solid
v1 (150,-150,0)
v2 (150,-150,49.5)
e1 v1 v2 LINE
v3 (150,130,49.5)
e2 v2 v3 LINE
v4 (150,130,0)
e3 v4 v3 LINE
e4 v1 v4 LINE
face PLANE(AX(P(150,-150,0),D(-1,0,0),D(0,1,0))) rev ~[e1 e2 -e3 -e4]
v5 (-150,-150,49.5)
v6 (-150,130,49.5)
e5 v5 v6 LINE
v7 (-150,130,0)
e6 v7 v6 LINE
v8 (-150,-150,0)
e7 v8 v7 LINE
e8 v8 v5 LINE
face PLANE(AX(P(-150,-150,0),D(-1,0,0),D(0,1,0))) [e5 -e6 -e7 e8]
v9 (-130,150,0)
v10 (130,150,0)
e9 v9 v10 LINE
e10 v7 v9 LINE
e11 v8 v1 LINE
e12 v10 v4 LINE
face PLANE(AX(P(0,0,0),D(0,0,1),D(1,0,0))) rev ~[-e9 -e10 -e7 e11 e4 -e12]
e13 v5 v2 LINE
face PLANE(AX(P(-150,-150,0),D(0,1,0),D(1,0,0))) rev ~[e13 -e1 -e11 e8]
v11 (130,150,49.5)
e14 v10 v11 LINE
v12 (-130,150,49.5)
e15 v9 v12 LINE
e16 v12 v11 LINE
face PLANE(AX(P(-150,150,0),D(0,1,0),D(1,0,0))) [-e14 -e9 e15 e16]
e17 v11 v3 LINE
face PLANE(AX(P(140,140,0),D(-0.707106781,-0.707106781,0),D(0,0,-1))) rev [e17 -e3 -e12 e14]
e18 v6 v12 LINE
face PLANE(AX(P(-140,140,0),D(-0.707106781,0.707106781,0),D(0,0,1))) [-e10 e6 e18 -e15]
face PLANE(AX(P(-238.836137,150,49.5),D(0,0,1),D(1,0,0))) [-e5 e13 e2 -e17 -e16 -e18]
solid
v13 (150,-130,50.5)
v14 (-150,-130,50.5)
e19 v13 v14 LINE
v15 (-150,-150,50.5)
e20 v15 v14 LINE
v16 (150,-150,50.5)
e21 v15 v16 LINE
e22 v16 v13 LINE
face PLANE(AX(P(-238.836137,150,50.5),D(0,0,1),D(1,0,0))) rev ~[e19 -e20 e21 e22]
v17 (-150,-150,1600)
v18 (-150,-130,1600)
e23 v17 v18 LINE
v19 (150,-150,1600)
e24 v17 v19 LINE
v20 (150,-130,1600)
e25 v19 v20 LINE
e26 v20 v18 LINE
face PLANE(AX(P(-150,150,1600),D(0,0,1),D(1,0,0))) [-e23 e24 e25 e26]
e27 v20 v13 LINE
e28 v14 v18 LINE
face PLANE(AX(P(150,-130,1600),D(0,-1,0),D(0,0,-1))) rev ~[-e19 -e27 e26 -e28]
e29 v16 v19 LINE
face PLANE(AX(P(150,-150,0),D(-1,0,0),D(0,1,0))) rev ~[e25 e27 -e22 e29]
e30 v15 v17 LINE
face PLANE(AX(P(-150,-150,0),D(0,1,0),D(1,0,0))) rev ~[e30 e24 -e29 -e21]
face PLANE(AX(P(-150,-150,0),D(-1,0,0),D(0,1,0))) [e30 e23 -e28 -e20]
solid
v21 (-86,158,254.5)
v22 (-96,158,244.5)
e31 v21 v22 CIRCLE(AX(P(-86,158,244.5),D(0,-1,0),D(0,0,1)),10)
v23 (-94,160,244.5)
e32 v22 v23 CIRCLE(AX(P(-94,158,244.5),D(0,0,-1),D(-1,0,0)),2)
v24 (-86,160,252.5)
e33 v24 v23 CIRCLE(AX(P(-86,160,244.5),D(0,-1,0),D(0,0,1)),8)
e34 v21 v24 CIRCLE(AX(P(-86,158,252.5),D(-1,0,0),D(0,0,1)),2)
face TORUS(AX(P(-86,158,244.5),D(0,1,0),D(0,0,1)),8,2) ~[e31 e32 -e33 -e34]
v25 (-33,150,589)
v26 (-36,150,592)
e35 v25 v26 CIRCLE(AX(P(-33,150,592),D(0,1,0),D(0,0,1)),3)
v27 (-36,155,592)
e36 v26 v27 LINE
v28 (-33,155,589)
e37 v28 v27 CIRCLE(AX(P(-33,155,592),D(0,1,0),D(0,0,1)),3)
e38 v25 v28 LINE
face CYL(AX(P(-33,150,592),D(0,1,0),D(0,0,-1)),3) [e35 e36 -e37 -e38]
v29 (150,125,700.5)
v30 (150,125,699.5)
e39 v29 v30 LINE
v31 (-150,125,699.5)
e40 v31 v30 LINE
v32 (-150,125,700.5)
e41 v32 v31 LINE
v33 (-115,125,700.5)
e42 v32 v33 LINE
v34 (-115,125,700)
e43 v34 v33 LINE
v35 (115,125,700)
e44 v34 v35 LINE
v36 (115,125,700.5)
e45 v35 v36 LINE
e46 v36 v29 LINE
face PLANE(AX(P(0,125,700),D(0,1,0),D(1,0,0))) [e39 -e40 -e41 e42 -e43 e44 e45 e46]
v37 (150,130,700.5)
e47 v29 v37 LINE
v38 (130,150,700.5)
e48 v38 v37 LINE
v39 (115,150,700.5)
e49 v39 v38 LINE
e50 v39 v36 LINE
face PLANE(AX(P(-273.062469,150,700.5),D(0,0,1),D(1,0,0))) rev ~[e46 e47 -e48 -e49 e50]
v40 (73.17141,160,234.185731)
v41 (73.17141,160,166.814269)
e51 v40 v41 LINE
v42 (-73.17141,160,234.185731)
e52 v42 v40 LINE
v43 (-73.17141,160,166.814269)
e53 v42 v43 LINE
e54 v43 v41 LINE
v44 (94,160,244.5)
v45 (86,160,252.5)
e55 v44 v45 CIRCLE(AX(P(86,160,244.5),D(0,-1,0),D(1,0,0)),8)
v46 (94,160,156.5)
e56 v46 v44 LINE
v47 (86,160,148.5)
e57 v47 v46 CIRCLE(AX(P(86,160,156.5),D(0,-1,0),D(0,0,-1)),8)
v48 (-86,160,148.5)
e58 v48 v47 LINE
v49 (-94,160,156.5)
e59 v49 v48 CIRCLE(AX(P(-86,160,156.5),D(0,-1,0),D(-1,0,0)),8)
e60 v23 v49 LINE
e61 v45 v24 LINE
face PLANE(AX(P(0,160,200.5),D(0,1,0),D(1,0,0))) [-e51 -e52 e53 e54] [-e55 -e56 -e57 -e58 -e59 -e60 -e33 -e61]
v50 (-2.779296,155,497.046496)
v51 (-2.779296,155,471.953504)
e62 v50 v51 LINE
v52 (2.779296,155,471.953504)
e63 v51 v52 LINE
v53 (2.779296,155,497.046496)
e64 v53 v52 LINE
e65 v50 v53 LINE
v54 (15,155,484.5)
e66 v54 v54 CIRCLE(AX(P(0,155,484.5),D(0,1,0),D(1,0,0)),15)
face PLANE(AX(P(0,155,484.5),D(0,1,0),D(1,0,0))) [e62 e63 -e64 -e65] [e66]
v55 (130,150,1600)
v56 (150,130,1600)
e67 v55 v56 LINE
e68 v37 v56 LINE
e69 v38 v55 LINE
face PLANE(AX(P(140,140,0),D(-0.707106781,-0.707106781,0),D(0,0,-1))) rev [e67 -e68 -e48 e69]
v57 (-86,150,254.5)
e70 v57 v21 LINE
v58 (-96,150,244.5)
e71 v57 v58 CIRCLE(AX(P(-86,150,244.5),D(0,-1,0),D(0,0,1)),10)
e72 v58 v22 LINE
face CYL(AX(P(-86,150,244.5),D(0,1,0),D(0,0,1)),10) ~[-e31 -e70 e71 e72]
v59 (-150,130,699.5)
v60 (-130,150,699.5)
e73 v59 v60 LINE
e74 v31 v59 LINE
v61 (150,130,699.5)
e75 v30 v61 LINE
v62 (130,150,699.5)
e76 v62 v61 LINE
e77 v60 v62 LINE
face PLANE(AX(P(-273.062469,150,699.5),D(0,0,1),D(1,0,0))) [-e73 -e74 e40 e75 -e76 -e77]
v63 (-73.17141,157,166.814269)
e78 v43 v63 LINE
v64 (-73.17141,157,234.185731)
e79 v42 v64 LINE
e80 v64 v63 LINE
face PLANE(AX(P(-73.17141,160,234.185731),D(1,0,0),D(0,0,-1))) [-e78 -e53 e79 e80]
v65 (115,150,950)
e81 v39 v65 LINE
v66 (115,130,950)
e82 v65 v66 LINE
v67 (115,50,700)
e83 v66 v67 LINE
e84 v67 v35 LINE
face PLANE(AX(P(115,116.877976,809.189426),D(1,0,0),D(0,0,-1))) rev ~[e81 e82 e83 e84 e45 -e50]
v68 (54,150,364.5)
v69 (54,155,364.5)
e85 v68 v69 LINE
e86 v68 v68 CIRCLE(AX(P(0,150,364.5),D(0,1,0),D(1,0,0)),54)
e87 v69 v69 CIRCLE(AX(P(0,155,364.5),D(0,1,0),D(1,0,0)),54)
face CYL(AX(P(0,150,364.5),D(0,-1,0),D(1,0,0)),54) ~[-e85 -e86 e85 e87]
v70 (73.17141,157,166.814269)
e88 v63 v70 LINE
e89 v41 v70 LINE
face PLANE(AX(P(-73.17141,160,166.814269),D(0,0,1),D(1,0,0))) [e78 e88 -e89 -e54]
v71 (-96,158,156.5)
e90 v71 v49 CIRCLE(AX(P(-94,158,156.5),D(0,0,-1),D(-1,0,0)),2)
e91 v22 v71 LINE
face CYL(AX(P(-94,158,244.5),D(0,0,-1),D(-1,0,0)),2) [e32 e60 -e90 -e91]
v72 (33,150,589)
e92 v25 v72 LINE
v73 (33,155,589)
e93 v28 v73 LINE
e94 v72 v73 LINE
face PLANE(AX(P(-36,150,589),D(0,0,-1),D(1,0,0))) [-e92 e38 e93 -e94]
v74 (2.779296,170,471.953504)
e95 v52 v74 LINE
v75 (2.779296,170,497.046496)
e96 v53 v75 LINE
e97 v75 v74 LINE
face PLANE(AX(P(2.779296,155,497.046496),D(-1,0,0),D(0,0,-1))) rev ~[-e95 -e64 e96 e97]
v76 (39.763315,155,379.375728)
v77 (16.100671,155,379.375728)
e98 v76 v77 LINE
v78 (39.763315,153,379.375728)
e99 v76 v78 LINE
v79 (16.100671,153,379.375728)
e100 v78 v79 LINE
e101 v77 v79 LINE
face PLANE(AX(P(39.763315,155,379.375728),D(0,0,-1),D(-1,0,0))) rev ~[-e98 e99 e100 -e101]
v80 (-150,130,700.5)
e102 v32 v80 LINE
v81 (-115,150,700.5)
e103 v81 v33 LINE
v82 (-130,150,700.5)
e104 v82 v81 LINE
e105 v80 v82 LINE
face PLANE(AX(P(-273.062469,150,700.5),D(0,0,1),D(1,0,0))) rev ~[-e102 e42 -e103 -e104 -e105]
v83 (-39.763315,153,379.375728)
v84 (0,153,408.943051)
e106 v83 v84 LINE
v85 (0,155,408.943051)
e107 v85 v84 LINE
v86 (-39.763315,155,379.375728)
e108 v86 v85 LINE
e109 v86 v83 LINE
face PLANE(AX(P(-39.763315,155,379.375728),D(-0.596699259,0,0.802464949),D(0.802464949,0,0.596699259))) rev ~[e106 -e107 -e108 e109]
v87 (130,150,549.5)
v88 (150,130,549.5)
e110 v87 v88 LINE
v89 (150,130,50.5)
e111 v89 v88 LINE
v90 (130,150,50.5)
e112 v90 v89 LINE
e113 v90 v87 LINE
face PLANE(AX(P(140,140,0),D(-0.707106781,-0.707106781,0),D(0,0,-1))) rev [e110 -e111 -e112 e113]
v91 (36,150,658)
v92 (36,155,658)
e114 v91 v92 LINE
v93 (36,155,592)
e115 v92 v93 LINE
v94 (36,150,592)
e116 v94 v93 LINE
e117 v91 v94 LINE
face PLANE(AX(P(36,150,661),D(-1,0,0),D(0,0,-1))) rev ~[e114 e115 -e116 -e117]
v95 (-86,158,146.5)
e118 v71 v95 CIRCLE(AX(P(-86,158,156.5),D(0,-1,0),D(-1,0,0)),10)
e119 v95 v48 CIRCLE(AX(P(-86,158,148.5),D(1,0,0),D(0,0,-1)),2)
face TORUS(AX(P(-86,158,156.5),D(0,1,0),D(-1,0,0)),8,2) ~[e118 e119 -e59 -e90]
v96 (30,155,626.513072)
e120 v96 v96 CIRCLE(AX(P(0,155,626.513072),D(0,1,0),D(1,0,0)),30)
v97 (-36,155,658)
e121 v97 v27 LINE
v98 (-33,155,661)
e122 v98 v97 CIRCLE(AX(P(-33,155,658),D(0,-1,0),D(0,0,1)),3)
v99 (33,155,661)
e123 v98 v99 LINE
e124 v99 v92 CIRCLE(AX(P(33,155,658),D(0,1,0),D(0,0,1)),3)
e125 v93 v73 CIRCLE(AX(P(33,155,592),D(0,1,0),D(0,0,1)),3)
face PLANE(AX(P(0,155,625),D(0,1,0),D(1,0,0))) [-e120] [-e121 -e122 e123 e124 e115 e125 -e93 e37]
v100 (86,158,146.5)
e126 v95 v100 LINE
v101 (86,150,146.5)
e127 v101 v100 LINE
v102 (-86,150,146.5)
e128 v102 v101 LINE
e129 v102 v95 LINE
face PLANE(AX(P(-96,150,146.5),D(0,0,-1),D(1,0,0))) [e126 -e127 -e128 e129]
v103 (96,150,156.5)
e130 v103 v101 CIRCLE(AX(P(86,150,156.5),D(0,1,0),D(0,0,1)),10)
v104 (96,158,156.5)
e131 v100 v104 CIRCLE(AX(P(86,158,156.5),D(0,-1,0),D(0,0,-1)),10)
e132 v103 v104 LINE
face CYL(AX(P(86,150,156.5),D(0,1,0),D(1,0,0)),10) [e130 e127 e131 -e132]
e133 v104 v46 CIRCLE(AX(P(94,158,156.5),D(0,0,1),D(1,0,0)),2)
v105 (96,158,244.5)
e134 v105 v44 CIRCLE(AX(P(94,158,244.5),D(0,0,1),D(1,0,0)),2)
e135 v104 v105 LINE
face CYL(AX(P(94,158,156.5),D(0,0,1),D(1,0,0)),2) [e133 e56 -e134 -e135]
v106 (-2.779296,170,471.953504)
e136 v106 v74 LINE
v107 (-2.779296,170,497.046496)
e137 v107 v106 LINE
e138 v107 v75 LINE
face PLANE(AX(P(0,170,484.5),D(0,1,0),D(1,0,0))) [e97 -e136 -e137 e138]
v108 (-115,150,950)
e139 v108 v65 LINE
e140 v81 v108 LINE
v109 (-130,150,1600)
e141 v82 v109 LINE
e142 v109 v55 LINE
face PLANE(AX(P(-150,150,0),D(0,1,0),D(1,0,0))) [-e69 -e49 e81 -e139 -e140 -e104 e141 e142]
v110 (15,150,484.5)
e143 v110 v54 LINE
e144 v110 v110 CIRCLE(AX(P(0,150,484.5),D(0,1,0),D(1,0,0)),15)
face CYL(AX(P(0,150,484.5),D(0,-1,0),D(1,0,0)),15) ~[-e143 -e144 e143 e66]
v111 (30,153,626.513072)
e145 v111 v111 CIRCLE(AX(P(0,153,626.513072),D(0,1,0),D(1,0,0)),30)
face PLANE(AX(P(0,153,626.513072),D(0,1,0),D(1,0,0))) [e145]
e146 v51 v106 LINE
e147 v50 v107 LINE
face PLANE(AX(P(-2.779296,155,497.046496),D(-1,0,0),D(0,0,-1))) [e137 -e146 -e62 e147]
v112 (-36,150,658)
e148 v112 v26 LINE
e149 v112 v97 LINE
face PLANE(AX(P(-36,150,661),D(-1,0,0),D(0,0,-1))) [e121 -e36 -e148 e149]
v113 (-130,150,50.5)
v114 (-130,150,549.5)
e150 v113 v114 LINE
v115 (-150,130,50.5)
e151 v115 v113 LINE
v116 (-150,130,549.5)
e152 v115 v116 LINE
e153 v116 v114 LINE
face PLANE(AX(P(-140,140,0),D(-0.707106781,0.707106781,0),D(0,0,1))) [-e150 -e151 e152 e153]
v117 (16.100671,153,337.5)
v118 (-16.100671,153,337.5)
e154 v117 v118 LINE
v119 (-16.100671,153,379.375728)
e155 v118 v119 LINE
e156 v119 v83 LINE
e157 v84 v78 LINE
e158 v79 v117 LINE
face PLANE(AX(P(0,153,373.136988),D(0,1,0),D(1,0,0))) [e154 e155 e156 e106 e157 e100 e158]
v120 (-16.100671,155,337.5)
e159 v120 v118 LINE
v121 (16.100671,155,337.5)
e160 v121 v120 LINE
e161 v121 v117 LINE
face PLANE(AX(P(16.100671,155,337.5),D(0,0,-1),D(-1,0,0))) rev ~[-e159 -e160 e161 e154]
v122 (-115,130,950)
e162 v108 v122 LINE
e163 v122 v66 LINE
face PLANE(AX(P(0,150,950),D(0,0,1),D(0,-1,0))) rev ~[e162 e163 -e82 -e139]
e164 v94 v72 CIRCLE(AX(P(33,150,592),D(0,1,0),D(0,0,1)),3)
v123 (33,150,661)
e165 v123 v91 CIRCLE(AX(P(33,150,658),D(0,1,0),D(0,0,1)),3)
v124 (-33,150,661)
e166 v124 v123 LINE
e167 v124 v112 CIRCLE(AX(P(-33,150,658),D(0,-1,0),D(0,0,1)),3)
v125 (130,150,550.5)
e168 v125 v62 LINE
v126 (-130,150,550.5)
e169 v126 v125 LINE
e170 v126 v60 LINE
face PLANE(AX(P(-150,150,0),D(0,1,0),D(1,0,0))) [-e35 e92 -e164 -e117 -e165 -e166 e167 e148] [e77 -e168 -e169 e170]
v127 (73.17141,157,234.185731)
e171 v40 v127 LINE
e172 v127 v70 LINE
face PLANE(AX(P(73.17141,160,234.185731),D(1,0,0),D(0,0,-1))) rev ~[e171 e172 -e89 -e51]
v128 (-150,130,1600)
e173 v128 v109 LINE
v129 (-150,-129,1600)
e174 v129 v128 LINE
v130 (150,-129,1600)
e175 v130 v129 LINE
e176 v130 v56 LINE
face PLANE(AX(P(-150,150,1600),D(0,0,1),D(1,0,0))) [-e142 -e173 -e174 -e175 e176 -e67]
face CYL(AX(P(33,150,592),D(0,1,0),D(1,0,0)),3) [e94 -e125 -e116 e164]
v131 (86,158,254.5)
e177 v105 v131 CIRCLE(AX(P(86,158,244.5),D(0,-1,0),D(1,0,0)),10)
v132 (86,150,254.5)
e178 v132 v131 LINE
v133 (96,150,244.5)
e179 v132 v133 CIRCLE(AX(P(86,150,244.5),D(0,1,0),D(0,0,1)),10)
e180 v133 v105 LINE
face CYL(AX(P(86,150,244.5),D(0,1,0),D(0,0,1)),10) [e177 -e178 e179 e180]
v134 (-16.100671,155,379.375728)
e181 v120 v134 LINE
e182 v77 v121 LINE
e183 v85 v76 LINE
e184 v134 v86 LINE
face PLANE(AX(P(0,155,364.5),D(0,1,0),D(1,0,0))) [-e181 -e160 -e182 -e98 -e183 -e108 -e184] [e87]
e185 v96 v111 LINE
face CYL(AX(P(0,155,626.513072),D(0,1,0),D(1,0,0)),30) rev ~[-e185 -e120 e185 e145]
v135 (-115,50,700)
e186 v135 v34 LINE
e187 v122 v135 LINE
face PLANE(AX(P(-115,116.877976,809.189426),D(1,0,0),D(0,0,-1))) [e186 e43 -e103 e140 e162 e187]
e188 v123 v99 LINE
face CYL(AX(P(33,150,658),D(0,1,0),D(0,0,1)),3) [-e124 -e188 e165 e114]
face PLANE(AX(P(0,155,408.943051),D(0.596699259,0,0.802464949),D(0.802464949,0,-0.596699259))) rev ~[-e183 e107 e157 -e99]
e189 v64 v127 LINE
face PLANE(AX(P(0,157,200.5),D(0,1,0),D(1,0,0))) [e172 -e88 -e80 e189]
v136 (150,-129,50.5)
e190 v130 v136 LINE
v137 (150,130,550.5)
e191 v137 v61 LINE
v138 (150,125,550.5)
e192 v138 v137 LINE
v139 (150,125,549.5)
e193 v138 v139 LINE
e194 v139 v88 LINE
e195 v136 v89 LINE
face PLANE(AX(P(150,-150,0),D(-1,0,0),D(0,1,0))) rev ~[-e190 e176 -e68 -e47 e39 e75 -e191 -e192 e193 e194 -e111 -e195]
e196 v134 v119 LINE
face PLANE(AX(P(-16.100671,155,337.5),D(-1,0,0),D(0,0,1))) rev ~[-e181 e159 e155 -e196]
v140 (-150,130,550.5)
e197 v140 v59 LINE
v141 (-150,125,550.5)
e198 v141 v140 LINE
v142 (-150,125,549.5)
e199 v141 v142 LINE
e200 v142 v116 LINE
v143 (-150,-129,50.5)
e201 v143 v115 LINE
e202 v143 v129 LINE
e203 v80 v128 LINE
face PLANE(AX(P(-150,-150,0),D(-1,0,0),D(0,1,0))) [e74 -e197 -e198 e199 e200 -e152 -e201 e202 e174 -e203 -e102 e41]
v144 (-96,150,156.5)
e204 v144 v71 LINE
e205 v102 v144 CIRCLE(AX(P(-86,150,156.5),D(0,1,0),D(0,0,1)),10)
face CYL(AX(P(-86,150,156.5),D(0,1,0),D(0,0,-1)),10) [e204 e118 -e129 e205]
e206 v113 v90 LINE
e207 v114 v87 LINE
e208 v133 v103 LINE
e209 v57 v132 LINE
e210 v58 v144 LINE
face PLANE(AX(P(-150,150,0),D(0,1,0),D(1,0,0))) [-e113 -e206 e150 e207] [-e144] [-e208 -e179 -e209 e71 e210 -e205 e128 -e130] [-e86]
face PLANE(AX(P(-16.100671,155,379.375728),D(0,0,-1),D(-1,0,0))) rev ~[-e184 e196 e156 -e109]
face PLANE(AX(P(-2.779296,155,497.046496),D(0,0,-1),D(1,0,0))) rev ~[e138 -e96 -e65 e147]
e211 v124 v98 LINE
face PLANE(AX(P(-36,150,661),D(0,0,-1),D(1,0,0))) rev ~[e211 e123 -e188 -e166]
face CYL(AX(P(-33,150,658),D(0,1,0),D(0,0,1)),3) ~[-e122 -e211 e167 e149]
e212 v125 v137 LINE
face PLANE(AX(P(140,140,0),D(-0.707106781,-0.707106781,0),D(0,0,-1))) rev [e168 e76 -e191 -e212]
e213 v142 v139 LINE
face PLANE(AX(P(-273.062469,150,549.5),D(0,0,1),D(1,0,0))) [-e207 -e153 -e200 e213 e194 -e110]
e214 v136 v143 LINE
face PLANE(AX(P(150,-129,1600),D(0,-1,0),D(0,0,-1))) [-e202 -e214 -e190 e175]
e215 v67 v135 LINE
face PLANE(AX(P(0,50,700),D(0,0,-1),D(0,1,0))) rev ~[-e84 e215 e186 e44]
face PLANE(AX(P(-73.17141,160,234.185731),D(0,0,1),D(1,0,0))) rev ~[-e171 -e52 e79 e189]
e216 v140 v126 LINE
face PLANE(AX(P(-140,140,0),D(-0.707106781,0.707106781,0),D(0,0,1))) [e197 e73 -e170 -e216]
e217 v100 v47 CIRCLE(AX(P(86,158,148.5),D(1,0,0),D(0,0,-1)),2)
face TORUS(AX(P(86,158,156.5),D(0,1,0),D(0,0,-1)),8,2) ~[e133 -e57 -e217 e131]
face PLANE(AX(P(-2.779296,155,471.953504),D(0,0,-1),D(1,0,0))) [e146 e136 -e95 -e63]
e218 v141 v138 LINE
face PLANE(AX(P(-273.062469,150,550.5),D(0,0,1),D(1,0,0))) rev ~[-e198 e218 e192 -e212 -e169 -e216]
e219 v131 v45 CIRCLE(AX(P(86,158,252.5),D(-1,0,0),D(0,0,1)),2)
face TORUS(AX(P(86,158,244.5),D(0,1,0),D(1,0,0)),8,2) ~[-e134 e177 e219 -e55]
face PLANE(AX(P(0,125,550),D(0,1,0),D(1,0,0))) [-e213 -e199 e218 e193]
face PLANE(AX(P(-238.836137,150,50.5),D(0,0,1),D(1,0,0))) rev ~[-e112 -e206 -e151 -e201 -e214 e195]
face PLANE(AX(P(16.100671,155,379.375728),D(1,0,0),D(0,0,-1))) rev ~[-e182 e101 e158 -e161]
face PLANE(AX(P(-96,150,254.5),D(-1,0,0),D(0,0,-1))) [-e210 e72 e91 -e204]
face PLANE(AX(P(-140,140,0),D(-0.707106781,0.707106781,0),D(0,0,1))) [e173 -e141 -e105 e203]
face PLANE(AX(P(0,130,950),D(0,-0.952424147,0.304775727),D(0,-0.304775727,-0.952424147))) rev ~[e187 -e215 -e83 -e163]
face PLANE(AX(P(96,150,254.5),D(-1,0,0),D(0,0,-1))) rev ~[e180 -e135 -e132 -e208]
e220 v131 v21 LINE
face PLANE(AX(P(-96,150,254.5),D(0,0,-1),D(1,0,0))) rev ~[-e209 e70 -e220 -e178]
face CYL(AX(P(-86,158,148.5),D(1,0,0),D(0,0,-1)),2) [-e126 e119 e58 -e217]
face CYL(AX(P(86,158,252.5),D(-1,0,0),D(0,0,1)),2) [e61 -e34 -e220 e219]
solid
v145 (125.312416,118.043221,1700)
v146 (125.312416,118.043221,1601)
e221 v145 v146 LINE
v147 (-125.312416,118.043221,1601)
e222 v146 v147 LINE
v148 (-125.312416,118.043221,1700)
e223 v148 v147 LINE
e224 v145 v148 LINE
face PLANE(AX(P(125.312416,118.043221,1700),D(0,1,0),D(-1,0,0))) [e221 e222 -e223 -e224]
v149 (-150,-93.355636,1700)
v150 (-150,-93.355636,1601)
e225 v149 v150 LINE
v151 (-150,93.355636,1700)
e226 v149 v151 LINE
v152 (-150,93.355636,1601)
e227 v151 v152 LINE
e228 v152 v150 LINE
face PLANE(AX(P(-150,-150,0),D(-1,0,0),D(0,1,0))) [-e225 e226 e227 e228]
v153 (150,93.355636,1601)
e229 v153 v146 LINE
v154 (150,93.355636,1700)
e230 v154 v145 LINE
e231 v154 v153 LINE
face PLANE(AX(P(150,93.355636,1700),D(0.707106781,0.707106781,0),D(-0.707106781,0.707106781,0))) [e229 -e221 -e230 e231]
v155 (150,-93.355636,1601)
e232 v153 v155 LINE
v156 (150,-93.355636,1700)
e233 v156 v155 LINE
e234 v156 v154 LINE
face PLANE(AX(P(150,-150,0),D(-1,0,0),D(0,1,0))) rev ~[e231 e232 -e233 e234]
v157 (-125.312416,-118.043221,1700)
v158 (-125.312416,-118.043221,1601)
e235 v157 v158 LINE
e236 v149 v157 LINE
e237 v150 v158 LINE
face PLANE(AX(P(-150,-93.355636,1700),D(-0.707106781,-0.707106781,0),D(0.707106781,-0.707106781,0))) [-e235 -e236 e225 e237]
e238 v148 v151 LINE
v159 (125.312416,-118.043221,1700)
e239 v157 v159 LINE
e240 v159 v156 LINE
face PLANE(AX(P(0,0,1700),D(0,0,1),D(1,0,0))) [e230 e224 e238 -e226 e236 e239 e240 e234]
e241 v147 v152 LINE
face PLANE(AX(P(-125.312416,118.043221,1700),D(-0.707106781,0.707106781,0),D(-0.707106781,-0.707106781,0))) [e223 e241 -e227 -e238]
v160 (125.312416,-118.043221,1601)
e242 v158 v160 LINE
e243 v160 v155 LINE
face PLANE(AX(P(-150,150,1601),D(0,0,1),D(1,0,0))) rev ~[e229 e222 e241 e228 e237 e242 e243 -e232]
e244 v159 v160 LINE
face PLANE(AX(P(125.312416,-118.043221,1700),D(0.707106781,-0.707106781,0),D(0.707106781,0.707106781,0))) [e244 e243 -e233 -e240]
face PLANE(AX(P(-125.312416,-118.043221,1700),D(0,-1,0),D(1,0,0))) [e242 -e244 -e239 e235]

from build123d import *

# Parameters (mm, degrees)
SKETCH_1_W             = 300
SKETCH_1_H             = 300
EXTRUDE_1_DEPTH        = 1700
SKETCH_2_W             = 300
SKETCH_2_H             = 1
CUT_EXTRUDE_1_DEPTH    = 1800
CUT_EXTRUDE_2_DEPTH    = 100
CHAMFER_1_SIZE         = 20
SKETCH_5_W             = 477.672274662
SKETCH_5_H             = 1
CUT_EXTRUDE_3_DEPTH    = 331
SKETCH_6_W             = 1549.5
SKETCH_6_H             = 1
CUT_EXTRUDE_4_DEPTH    = 331
CUT_EXTRUDE_5_DEPTH    = 115
SKETCH_8_W             = 546.124938844
SKETCH_8_H             = 1
CUT_EXTRUDE_6_DEPTH    = 25
PATTERN_LINEAR_1_COUNT = 2
PATTERN_LINEAR_1_PITCH = 150
SKETCH_9_W             = 192
SKETCH_9_H             = 108
EXTRUDE_2_DEPTH        = 10
FILLET_1_R             = 10
FILLET_2_R             = 2
SKETCH_10_W            = 146.342820748
SKETCH_10_H            = 67.37146225
CUT_EXTRUDE_7_DEPTH    = 3
SKETCH_11_W            = 72
SKETCH_11_H            = 72
EXTRUDE_3_DEPTH        = 5
FILLET_3_R             = 3
SKETCH_12_R            = 30
CUT_EXTRUDE_8_DEPTH    = 2
SKETCH_13_R            = 54
SKETCH_13_R_2          = 15
EXTRUDE_4_DEPTH        = 5
SKETCH_14_W            = 5.558591624
SKETCH_14_H            = 25.092991566
EXTRUDE_5_DEPTH        = 15
CUT_EXTRUDE_9_DEPTH    = 2


with BuildPart() as part:
    # 草图1 → 凸台-拉伸1 (new body)
    with BuildSketch(Plane.XY):
        Rectangle(SKETCH_1_W, SKETCH_1_H)
    extrude(amount=EXTRUDE_1_DEPTH)

    # 草图2 → 切除-拉伸1 (cut)
    with BuildSketch(Plane(origin=(0, 150, 0), x_dir=(1, 0, 0), z_dir=(0, 1, 0))):
        with Locations((0, -1600.5)):
            Rectangle(SKETCH_2_W, SKETCH_2_H)
    extrude(amount=-CUT_EXTRUDE_1_DEPTH, mode=Mode.SUBTRACT)

    # 草图3 → 切除-拉伸2 (cut)
    with BuildSketch(Plane.XY.offset(1700)):
        Polygon((150, -93.355636265), (236.579596326, -93.355636265), (236.579596326, -247.079729733), (-236.579596326, -247.079729733), (-236.579596326, -93.355636265), (-150, -93.355636265), (-125.312415712, -118.043220553), (125.312415712, -118.043220553), align=None)
        Polygon((-150, 93.355636265), (-236.579596326, 93.355636265), (-236.579596326, 247.079729733), (236.579596326, 247.079729733), (236.579596326, 93.355636265), (150, 93.355636265), (125.312415712, 118.043220553), (-125.312415712, 118.043220553), align=None)
    extrude(amount=-CUT_EXTRUDE_2_DEPTH, mode=Mode.SUBTRACT)

    # 倒角1
    chamfer_1_edges = [part.edges().sort_by_distance(p)[0] for p in [
        (150, 150, 800),
        (-150, 150, 800),
    ]]
    chamfer(chamfer_1_edges, length=CHAMFER_1_SIZE)

    # 草图5 → 切除-拉伸3 (cut)
    with BuildSketch(Plane(origin=(0, 150, 0), x_dir=(1, 0, 0), z_dir=(0, 1, 0))):
        with Locations((0, -50)):
            Rectangle(SKETCH_5_W, SKETCH_5_H)
    extrude(amount=-CUT_EXTRUDE_3_DEPTH, mode=Mode.SUBTRACT)

    # 草图6 → 切除-拉伸4 (cut)
    with BuildSketch(Plane(origin=(150, 0, 0), x_dir=(0, 0, -1), z_dir=(1, 0, 0))):
        with Locations((-825.25, -129.5)):
            Rectangle(SKETCH_6_W, SKETCH_6_H)
    extrude(amount=-CUT_EXTRUDE_4_DEPTH, mode=Mode.SUBTRACT)

    # 草图7 → 切除-拉伸5 (cut, symmetric)
    with BuildSketch(Plane(origin=(0, 0, 0), x_dir=(0, 0, -1), z_dir=(1, 0, 0))):
        Polygon((-700, 150), (-950, 150), (-950, 130), (-700, 50), align=None)
    extrude(amount=CUT_EXTRUDE_5_DEPTH, both=True, mode=Mode.SUBTRACT)

    # 草图8 → 切除-拉伸6 (cut)
    with BuildSketch(Plane(origin=(0, 150, 0), x_dir=(1, 0, 0), z_dir=(0, 1, 0))):
        with Locations((0, -550)):
            Rectangle(SKETCH_8_W, SKETCH_8_H)
    cut_extrude_6 = extrude(amount=-CUT_EXTRUDE_6_DEPTH, mode=Mode.SUBTRACT)

    # 阵列(线性)1: 切除-拉伸6 ×2
    with Locations(*[(0, 0, i * PATTERN_LINEAR_1_PITCH) for i in range(1, PATTERN_LINEAR_1_COUNT)]):
        add(cut_extrude_6, mode=Mode.SUBTRACT)

    # 草图9 → 凸台-拉伸2 (add)
    with BuildSketch(Plane(origin=(0, 150, 0), x_dir=(1, 0, 0), z_dir=(0, 1, 0))):
        with Locations((0, -200.5)):
            Rectangle(SKETCH_9_W, SKETCH_9_H)
    extrude(amount=EXTRUDE_2_DEPTH)

    # 圆角1
    fillet_1_edges = [part.edges().sort_by_distance(p)[0] for p in [
        (96, 155, 254.5),
        (96, 155, 146.5),
        (-96, 155, 146.5),
        (-96, 155, 254.5),
    ]]
    fillet(fillet_1_edges, radius=FILLET_1_R)

    # 圆角2
    fillet_2_edges = [part.edges().sort_by_distance(p)[0] for p in [
        (-96, 160, 200.5),
        (0, 160, 146.5),
        (96, 160, 200.5),
        (0, 160, 254.5),
        (93.071067812, 160, 149.428932188),
        (93.071067812, 160, 251.571067812),
        (-93.071067812, 160, 251.571067812),
        (-93.071067812, 160, 149.428932188),
    ]]
    fillet(fillet_2_edges, radius=FILLET_2_R)

    # 草图10 → 切除-拉伸7 (cut)
    with BuildSketch(Plane(origin=(0, 160, 0), x_dir=(1, 0, 0), z_dir=(0, 1, 0))):
        with Locations((0, -200.5)):
            Rectangle(SKETCH_10_W, SKETCH_10_H)
    extrude(amount=-CUT_EXTRUDE_7_DEPTH, mode=Mode.SUBTRACT)

    # 草图11 → 凸台-拉伸3 (add)
    with BuildSketch(Plane(origin=(0, 150, 0), x_dir=(1, 0, 0), z_dir=(0, 1, 0))):
        with Locations((0, -625)):
            Rectangle(SKETCH_11_W, SKETCH_11_H)
    extrude(amount=EXTRUDE_3_DEPTH)

    # 圆角3
    fillet_3_edges = [part.edges().sort_by_distance(p)[0] for p in [
        (36, 152.5, 661),
        (36, 152.5, 589),
        (-36, 152.5, 589),
        (-36, 152.5, 661),
    ]]
    fillet(fillet_3_edges, radius=FILLET_3_R)

    # 草图12 → 切除-拉伸8 (cut)
    with BuildSketch(Plane(origin=(0, 155, 0), x_dir=(1, 0, 0), z_dir=(0, 1, 0))):
        with Locations((0, -626.513071867)):
            Circle(SKETCH_12_R)
    extrude(amount=-CUT_EXTRUDE_8_DEPTH, mode=Mode.SUBTRACT)

    # 草图13 → 凸台-拉伸4 (add)
    with BuildSketch(Plane(origin=(0, 150, 0), x_dir=(1, 0, 0), z_dir=(0, 1, 0))):
        with Locations((0, -364.5)):
            Circle(SKETCH_13_R)
        with Locations((0, -484.5)):
            Circle(SKETCH_13_R_2)
    extrude(amount=EXTRUDE_4_DEPTH)

    # 草图14 → 凸台-拉伸5 (add)
    with BuildSketch(Plane(origin=(0, 155, 0), x_dir=(1, 0, 0), z_dir=(0, 1, 0))):
        with Locations((0, -484.5)):
            Rectangle(SKETCH_14_W, SKETCH_14_H)
    extrude(amount=EXTRUDE_5_DEPTH)

    # 草图15 → 切除-拉伸9 (cut)
    with BuildSketch(Plane(origin=(0, 155, 0), x_dir=(1, 0, 0), z_dir=(0, 1, 0))):
        Polygon((16.100670748, -337.5), (-16.100670748, -337.5), (-16.100670748, -379.375728248), (-39.763314653, -379.375728248), (0, -408.943051302), (39.763314653, -379.375728248), (16.100670748, -379.375728248), align=None)
    extrude(amount=-CUT_EXTRUDE_9_DEPTH, mode=Mode.SUBTRACT)


solid = part.part
